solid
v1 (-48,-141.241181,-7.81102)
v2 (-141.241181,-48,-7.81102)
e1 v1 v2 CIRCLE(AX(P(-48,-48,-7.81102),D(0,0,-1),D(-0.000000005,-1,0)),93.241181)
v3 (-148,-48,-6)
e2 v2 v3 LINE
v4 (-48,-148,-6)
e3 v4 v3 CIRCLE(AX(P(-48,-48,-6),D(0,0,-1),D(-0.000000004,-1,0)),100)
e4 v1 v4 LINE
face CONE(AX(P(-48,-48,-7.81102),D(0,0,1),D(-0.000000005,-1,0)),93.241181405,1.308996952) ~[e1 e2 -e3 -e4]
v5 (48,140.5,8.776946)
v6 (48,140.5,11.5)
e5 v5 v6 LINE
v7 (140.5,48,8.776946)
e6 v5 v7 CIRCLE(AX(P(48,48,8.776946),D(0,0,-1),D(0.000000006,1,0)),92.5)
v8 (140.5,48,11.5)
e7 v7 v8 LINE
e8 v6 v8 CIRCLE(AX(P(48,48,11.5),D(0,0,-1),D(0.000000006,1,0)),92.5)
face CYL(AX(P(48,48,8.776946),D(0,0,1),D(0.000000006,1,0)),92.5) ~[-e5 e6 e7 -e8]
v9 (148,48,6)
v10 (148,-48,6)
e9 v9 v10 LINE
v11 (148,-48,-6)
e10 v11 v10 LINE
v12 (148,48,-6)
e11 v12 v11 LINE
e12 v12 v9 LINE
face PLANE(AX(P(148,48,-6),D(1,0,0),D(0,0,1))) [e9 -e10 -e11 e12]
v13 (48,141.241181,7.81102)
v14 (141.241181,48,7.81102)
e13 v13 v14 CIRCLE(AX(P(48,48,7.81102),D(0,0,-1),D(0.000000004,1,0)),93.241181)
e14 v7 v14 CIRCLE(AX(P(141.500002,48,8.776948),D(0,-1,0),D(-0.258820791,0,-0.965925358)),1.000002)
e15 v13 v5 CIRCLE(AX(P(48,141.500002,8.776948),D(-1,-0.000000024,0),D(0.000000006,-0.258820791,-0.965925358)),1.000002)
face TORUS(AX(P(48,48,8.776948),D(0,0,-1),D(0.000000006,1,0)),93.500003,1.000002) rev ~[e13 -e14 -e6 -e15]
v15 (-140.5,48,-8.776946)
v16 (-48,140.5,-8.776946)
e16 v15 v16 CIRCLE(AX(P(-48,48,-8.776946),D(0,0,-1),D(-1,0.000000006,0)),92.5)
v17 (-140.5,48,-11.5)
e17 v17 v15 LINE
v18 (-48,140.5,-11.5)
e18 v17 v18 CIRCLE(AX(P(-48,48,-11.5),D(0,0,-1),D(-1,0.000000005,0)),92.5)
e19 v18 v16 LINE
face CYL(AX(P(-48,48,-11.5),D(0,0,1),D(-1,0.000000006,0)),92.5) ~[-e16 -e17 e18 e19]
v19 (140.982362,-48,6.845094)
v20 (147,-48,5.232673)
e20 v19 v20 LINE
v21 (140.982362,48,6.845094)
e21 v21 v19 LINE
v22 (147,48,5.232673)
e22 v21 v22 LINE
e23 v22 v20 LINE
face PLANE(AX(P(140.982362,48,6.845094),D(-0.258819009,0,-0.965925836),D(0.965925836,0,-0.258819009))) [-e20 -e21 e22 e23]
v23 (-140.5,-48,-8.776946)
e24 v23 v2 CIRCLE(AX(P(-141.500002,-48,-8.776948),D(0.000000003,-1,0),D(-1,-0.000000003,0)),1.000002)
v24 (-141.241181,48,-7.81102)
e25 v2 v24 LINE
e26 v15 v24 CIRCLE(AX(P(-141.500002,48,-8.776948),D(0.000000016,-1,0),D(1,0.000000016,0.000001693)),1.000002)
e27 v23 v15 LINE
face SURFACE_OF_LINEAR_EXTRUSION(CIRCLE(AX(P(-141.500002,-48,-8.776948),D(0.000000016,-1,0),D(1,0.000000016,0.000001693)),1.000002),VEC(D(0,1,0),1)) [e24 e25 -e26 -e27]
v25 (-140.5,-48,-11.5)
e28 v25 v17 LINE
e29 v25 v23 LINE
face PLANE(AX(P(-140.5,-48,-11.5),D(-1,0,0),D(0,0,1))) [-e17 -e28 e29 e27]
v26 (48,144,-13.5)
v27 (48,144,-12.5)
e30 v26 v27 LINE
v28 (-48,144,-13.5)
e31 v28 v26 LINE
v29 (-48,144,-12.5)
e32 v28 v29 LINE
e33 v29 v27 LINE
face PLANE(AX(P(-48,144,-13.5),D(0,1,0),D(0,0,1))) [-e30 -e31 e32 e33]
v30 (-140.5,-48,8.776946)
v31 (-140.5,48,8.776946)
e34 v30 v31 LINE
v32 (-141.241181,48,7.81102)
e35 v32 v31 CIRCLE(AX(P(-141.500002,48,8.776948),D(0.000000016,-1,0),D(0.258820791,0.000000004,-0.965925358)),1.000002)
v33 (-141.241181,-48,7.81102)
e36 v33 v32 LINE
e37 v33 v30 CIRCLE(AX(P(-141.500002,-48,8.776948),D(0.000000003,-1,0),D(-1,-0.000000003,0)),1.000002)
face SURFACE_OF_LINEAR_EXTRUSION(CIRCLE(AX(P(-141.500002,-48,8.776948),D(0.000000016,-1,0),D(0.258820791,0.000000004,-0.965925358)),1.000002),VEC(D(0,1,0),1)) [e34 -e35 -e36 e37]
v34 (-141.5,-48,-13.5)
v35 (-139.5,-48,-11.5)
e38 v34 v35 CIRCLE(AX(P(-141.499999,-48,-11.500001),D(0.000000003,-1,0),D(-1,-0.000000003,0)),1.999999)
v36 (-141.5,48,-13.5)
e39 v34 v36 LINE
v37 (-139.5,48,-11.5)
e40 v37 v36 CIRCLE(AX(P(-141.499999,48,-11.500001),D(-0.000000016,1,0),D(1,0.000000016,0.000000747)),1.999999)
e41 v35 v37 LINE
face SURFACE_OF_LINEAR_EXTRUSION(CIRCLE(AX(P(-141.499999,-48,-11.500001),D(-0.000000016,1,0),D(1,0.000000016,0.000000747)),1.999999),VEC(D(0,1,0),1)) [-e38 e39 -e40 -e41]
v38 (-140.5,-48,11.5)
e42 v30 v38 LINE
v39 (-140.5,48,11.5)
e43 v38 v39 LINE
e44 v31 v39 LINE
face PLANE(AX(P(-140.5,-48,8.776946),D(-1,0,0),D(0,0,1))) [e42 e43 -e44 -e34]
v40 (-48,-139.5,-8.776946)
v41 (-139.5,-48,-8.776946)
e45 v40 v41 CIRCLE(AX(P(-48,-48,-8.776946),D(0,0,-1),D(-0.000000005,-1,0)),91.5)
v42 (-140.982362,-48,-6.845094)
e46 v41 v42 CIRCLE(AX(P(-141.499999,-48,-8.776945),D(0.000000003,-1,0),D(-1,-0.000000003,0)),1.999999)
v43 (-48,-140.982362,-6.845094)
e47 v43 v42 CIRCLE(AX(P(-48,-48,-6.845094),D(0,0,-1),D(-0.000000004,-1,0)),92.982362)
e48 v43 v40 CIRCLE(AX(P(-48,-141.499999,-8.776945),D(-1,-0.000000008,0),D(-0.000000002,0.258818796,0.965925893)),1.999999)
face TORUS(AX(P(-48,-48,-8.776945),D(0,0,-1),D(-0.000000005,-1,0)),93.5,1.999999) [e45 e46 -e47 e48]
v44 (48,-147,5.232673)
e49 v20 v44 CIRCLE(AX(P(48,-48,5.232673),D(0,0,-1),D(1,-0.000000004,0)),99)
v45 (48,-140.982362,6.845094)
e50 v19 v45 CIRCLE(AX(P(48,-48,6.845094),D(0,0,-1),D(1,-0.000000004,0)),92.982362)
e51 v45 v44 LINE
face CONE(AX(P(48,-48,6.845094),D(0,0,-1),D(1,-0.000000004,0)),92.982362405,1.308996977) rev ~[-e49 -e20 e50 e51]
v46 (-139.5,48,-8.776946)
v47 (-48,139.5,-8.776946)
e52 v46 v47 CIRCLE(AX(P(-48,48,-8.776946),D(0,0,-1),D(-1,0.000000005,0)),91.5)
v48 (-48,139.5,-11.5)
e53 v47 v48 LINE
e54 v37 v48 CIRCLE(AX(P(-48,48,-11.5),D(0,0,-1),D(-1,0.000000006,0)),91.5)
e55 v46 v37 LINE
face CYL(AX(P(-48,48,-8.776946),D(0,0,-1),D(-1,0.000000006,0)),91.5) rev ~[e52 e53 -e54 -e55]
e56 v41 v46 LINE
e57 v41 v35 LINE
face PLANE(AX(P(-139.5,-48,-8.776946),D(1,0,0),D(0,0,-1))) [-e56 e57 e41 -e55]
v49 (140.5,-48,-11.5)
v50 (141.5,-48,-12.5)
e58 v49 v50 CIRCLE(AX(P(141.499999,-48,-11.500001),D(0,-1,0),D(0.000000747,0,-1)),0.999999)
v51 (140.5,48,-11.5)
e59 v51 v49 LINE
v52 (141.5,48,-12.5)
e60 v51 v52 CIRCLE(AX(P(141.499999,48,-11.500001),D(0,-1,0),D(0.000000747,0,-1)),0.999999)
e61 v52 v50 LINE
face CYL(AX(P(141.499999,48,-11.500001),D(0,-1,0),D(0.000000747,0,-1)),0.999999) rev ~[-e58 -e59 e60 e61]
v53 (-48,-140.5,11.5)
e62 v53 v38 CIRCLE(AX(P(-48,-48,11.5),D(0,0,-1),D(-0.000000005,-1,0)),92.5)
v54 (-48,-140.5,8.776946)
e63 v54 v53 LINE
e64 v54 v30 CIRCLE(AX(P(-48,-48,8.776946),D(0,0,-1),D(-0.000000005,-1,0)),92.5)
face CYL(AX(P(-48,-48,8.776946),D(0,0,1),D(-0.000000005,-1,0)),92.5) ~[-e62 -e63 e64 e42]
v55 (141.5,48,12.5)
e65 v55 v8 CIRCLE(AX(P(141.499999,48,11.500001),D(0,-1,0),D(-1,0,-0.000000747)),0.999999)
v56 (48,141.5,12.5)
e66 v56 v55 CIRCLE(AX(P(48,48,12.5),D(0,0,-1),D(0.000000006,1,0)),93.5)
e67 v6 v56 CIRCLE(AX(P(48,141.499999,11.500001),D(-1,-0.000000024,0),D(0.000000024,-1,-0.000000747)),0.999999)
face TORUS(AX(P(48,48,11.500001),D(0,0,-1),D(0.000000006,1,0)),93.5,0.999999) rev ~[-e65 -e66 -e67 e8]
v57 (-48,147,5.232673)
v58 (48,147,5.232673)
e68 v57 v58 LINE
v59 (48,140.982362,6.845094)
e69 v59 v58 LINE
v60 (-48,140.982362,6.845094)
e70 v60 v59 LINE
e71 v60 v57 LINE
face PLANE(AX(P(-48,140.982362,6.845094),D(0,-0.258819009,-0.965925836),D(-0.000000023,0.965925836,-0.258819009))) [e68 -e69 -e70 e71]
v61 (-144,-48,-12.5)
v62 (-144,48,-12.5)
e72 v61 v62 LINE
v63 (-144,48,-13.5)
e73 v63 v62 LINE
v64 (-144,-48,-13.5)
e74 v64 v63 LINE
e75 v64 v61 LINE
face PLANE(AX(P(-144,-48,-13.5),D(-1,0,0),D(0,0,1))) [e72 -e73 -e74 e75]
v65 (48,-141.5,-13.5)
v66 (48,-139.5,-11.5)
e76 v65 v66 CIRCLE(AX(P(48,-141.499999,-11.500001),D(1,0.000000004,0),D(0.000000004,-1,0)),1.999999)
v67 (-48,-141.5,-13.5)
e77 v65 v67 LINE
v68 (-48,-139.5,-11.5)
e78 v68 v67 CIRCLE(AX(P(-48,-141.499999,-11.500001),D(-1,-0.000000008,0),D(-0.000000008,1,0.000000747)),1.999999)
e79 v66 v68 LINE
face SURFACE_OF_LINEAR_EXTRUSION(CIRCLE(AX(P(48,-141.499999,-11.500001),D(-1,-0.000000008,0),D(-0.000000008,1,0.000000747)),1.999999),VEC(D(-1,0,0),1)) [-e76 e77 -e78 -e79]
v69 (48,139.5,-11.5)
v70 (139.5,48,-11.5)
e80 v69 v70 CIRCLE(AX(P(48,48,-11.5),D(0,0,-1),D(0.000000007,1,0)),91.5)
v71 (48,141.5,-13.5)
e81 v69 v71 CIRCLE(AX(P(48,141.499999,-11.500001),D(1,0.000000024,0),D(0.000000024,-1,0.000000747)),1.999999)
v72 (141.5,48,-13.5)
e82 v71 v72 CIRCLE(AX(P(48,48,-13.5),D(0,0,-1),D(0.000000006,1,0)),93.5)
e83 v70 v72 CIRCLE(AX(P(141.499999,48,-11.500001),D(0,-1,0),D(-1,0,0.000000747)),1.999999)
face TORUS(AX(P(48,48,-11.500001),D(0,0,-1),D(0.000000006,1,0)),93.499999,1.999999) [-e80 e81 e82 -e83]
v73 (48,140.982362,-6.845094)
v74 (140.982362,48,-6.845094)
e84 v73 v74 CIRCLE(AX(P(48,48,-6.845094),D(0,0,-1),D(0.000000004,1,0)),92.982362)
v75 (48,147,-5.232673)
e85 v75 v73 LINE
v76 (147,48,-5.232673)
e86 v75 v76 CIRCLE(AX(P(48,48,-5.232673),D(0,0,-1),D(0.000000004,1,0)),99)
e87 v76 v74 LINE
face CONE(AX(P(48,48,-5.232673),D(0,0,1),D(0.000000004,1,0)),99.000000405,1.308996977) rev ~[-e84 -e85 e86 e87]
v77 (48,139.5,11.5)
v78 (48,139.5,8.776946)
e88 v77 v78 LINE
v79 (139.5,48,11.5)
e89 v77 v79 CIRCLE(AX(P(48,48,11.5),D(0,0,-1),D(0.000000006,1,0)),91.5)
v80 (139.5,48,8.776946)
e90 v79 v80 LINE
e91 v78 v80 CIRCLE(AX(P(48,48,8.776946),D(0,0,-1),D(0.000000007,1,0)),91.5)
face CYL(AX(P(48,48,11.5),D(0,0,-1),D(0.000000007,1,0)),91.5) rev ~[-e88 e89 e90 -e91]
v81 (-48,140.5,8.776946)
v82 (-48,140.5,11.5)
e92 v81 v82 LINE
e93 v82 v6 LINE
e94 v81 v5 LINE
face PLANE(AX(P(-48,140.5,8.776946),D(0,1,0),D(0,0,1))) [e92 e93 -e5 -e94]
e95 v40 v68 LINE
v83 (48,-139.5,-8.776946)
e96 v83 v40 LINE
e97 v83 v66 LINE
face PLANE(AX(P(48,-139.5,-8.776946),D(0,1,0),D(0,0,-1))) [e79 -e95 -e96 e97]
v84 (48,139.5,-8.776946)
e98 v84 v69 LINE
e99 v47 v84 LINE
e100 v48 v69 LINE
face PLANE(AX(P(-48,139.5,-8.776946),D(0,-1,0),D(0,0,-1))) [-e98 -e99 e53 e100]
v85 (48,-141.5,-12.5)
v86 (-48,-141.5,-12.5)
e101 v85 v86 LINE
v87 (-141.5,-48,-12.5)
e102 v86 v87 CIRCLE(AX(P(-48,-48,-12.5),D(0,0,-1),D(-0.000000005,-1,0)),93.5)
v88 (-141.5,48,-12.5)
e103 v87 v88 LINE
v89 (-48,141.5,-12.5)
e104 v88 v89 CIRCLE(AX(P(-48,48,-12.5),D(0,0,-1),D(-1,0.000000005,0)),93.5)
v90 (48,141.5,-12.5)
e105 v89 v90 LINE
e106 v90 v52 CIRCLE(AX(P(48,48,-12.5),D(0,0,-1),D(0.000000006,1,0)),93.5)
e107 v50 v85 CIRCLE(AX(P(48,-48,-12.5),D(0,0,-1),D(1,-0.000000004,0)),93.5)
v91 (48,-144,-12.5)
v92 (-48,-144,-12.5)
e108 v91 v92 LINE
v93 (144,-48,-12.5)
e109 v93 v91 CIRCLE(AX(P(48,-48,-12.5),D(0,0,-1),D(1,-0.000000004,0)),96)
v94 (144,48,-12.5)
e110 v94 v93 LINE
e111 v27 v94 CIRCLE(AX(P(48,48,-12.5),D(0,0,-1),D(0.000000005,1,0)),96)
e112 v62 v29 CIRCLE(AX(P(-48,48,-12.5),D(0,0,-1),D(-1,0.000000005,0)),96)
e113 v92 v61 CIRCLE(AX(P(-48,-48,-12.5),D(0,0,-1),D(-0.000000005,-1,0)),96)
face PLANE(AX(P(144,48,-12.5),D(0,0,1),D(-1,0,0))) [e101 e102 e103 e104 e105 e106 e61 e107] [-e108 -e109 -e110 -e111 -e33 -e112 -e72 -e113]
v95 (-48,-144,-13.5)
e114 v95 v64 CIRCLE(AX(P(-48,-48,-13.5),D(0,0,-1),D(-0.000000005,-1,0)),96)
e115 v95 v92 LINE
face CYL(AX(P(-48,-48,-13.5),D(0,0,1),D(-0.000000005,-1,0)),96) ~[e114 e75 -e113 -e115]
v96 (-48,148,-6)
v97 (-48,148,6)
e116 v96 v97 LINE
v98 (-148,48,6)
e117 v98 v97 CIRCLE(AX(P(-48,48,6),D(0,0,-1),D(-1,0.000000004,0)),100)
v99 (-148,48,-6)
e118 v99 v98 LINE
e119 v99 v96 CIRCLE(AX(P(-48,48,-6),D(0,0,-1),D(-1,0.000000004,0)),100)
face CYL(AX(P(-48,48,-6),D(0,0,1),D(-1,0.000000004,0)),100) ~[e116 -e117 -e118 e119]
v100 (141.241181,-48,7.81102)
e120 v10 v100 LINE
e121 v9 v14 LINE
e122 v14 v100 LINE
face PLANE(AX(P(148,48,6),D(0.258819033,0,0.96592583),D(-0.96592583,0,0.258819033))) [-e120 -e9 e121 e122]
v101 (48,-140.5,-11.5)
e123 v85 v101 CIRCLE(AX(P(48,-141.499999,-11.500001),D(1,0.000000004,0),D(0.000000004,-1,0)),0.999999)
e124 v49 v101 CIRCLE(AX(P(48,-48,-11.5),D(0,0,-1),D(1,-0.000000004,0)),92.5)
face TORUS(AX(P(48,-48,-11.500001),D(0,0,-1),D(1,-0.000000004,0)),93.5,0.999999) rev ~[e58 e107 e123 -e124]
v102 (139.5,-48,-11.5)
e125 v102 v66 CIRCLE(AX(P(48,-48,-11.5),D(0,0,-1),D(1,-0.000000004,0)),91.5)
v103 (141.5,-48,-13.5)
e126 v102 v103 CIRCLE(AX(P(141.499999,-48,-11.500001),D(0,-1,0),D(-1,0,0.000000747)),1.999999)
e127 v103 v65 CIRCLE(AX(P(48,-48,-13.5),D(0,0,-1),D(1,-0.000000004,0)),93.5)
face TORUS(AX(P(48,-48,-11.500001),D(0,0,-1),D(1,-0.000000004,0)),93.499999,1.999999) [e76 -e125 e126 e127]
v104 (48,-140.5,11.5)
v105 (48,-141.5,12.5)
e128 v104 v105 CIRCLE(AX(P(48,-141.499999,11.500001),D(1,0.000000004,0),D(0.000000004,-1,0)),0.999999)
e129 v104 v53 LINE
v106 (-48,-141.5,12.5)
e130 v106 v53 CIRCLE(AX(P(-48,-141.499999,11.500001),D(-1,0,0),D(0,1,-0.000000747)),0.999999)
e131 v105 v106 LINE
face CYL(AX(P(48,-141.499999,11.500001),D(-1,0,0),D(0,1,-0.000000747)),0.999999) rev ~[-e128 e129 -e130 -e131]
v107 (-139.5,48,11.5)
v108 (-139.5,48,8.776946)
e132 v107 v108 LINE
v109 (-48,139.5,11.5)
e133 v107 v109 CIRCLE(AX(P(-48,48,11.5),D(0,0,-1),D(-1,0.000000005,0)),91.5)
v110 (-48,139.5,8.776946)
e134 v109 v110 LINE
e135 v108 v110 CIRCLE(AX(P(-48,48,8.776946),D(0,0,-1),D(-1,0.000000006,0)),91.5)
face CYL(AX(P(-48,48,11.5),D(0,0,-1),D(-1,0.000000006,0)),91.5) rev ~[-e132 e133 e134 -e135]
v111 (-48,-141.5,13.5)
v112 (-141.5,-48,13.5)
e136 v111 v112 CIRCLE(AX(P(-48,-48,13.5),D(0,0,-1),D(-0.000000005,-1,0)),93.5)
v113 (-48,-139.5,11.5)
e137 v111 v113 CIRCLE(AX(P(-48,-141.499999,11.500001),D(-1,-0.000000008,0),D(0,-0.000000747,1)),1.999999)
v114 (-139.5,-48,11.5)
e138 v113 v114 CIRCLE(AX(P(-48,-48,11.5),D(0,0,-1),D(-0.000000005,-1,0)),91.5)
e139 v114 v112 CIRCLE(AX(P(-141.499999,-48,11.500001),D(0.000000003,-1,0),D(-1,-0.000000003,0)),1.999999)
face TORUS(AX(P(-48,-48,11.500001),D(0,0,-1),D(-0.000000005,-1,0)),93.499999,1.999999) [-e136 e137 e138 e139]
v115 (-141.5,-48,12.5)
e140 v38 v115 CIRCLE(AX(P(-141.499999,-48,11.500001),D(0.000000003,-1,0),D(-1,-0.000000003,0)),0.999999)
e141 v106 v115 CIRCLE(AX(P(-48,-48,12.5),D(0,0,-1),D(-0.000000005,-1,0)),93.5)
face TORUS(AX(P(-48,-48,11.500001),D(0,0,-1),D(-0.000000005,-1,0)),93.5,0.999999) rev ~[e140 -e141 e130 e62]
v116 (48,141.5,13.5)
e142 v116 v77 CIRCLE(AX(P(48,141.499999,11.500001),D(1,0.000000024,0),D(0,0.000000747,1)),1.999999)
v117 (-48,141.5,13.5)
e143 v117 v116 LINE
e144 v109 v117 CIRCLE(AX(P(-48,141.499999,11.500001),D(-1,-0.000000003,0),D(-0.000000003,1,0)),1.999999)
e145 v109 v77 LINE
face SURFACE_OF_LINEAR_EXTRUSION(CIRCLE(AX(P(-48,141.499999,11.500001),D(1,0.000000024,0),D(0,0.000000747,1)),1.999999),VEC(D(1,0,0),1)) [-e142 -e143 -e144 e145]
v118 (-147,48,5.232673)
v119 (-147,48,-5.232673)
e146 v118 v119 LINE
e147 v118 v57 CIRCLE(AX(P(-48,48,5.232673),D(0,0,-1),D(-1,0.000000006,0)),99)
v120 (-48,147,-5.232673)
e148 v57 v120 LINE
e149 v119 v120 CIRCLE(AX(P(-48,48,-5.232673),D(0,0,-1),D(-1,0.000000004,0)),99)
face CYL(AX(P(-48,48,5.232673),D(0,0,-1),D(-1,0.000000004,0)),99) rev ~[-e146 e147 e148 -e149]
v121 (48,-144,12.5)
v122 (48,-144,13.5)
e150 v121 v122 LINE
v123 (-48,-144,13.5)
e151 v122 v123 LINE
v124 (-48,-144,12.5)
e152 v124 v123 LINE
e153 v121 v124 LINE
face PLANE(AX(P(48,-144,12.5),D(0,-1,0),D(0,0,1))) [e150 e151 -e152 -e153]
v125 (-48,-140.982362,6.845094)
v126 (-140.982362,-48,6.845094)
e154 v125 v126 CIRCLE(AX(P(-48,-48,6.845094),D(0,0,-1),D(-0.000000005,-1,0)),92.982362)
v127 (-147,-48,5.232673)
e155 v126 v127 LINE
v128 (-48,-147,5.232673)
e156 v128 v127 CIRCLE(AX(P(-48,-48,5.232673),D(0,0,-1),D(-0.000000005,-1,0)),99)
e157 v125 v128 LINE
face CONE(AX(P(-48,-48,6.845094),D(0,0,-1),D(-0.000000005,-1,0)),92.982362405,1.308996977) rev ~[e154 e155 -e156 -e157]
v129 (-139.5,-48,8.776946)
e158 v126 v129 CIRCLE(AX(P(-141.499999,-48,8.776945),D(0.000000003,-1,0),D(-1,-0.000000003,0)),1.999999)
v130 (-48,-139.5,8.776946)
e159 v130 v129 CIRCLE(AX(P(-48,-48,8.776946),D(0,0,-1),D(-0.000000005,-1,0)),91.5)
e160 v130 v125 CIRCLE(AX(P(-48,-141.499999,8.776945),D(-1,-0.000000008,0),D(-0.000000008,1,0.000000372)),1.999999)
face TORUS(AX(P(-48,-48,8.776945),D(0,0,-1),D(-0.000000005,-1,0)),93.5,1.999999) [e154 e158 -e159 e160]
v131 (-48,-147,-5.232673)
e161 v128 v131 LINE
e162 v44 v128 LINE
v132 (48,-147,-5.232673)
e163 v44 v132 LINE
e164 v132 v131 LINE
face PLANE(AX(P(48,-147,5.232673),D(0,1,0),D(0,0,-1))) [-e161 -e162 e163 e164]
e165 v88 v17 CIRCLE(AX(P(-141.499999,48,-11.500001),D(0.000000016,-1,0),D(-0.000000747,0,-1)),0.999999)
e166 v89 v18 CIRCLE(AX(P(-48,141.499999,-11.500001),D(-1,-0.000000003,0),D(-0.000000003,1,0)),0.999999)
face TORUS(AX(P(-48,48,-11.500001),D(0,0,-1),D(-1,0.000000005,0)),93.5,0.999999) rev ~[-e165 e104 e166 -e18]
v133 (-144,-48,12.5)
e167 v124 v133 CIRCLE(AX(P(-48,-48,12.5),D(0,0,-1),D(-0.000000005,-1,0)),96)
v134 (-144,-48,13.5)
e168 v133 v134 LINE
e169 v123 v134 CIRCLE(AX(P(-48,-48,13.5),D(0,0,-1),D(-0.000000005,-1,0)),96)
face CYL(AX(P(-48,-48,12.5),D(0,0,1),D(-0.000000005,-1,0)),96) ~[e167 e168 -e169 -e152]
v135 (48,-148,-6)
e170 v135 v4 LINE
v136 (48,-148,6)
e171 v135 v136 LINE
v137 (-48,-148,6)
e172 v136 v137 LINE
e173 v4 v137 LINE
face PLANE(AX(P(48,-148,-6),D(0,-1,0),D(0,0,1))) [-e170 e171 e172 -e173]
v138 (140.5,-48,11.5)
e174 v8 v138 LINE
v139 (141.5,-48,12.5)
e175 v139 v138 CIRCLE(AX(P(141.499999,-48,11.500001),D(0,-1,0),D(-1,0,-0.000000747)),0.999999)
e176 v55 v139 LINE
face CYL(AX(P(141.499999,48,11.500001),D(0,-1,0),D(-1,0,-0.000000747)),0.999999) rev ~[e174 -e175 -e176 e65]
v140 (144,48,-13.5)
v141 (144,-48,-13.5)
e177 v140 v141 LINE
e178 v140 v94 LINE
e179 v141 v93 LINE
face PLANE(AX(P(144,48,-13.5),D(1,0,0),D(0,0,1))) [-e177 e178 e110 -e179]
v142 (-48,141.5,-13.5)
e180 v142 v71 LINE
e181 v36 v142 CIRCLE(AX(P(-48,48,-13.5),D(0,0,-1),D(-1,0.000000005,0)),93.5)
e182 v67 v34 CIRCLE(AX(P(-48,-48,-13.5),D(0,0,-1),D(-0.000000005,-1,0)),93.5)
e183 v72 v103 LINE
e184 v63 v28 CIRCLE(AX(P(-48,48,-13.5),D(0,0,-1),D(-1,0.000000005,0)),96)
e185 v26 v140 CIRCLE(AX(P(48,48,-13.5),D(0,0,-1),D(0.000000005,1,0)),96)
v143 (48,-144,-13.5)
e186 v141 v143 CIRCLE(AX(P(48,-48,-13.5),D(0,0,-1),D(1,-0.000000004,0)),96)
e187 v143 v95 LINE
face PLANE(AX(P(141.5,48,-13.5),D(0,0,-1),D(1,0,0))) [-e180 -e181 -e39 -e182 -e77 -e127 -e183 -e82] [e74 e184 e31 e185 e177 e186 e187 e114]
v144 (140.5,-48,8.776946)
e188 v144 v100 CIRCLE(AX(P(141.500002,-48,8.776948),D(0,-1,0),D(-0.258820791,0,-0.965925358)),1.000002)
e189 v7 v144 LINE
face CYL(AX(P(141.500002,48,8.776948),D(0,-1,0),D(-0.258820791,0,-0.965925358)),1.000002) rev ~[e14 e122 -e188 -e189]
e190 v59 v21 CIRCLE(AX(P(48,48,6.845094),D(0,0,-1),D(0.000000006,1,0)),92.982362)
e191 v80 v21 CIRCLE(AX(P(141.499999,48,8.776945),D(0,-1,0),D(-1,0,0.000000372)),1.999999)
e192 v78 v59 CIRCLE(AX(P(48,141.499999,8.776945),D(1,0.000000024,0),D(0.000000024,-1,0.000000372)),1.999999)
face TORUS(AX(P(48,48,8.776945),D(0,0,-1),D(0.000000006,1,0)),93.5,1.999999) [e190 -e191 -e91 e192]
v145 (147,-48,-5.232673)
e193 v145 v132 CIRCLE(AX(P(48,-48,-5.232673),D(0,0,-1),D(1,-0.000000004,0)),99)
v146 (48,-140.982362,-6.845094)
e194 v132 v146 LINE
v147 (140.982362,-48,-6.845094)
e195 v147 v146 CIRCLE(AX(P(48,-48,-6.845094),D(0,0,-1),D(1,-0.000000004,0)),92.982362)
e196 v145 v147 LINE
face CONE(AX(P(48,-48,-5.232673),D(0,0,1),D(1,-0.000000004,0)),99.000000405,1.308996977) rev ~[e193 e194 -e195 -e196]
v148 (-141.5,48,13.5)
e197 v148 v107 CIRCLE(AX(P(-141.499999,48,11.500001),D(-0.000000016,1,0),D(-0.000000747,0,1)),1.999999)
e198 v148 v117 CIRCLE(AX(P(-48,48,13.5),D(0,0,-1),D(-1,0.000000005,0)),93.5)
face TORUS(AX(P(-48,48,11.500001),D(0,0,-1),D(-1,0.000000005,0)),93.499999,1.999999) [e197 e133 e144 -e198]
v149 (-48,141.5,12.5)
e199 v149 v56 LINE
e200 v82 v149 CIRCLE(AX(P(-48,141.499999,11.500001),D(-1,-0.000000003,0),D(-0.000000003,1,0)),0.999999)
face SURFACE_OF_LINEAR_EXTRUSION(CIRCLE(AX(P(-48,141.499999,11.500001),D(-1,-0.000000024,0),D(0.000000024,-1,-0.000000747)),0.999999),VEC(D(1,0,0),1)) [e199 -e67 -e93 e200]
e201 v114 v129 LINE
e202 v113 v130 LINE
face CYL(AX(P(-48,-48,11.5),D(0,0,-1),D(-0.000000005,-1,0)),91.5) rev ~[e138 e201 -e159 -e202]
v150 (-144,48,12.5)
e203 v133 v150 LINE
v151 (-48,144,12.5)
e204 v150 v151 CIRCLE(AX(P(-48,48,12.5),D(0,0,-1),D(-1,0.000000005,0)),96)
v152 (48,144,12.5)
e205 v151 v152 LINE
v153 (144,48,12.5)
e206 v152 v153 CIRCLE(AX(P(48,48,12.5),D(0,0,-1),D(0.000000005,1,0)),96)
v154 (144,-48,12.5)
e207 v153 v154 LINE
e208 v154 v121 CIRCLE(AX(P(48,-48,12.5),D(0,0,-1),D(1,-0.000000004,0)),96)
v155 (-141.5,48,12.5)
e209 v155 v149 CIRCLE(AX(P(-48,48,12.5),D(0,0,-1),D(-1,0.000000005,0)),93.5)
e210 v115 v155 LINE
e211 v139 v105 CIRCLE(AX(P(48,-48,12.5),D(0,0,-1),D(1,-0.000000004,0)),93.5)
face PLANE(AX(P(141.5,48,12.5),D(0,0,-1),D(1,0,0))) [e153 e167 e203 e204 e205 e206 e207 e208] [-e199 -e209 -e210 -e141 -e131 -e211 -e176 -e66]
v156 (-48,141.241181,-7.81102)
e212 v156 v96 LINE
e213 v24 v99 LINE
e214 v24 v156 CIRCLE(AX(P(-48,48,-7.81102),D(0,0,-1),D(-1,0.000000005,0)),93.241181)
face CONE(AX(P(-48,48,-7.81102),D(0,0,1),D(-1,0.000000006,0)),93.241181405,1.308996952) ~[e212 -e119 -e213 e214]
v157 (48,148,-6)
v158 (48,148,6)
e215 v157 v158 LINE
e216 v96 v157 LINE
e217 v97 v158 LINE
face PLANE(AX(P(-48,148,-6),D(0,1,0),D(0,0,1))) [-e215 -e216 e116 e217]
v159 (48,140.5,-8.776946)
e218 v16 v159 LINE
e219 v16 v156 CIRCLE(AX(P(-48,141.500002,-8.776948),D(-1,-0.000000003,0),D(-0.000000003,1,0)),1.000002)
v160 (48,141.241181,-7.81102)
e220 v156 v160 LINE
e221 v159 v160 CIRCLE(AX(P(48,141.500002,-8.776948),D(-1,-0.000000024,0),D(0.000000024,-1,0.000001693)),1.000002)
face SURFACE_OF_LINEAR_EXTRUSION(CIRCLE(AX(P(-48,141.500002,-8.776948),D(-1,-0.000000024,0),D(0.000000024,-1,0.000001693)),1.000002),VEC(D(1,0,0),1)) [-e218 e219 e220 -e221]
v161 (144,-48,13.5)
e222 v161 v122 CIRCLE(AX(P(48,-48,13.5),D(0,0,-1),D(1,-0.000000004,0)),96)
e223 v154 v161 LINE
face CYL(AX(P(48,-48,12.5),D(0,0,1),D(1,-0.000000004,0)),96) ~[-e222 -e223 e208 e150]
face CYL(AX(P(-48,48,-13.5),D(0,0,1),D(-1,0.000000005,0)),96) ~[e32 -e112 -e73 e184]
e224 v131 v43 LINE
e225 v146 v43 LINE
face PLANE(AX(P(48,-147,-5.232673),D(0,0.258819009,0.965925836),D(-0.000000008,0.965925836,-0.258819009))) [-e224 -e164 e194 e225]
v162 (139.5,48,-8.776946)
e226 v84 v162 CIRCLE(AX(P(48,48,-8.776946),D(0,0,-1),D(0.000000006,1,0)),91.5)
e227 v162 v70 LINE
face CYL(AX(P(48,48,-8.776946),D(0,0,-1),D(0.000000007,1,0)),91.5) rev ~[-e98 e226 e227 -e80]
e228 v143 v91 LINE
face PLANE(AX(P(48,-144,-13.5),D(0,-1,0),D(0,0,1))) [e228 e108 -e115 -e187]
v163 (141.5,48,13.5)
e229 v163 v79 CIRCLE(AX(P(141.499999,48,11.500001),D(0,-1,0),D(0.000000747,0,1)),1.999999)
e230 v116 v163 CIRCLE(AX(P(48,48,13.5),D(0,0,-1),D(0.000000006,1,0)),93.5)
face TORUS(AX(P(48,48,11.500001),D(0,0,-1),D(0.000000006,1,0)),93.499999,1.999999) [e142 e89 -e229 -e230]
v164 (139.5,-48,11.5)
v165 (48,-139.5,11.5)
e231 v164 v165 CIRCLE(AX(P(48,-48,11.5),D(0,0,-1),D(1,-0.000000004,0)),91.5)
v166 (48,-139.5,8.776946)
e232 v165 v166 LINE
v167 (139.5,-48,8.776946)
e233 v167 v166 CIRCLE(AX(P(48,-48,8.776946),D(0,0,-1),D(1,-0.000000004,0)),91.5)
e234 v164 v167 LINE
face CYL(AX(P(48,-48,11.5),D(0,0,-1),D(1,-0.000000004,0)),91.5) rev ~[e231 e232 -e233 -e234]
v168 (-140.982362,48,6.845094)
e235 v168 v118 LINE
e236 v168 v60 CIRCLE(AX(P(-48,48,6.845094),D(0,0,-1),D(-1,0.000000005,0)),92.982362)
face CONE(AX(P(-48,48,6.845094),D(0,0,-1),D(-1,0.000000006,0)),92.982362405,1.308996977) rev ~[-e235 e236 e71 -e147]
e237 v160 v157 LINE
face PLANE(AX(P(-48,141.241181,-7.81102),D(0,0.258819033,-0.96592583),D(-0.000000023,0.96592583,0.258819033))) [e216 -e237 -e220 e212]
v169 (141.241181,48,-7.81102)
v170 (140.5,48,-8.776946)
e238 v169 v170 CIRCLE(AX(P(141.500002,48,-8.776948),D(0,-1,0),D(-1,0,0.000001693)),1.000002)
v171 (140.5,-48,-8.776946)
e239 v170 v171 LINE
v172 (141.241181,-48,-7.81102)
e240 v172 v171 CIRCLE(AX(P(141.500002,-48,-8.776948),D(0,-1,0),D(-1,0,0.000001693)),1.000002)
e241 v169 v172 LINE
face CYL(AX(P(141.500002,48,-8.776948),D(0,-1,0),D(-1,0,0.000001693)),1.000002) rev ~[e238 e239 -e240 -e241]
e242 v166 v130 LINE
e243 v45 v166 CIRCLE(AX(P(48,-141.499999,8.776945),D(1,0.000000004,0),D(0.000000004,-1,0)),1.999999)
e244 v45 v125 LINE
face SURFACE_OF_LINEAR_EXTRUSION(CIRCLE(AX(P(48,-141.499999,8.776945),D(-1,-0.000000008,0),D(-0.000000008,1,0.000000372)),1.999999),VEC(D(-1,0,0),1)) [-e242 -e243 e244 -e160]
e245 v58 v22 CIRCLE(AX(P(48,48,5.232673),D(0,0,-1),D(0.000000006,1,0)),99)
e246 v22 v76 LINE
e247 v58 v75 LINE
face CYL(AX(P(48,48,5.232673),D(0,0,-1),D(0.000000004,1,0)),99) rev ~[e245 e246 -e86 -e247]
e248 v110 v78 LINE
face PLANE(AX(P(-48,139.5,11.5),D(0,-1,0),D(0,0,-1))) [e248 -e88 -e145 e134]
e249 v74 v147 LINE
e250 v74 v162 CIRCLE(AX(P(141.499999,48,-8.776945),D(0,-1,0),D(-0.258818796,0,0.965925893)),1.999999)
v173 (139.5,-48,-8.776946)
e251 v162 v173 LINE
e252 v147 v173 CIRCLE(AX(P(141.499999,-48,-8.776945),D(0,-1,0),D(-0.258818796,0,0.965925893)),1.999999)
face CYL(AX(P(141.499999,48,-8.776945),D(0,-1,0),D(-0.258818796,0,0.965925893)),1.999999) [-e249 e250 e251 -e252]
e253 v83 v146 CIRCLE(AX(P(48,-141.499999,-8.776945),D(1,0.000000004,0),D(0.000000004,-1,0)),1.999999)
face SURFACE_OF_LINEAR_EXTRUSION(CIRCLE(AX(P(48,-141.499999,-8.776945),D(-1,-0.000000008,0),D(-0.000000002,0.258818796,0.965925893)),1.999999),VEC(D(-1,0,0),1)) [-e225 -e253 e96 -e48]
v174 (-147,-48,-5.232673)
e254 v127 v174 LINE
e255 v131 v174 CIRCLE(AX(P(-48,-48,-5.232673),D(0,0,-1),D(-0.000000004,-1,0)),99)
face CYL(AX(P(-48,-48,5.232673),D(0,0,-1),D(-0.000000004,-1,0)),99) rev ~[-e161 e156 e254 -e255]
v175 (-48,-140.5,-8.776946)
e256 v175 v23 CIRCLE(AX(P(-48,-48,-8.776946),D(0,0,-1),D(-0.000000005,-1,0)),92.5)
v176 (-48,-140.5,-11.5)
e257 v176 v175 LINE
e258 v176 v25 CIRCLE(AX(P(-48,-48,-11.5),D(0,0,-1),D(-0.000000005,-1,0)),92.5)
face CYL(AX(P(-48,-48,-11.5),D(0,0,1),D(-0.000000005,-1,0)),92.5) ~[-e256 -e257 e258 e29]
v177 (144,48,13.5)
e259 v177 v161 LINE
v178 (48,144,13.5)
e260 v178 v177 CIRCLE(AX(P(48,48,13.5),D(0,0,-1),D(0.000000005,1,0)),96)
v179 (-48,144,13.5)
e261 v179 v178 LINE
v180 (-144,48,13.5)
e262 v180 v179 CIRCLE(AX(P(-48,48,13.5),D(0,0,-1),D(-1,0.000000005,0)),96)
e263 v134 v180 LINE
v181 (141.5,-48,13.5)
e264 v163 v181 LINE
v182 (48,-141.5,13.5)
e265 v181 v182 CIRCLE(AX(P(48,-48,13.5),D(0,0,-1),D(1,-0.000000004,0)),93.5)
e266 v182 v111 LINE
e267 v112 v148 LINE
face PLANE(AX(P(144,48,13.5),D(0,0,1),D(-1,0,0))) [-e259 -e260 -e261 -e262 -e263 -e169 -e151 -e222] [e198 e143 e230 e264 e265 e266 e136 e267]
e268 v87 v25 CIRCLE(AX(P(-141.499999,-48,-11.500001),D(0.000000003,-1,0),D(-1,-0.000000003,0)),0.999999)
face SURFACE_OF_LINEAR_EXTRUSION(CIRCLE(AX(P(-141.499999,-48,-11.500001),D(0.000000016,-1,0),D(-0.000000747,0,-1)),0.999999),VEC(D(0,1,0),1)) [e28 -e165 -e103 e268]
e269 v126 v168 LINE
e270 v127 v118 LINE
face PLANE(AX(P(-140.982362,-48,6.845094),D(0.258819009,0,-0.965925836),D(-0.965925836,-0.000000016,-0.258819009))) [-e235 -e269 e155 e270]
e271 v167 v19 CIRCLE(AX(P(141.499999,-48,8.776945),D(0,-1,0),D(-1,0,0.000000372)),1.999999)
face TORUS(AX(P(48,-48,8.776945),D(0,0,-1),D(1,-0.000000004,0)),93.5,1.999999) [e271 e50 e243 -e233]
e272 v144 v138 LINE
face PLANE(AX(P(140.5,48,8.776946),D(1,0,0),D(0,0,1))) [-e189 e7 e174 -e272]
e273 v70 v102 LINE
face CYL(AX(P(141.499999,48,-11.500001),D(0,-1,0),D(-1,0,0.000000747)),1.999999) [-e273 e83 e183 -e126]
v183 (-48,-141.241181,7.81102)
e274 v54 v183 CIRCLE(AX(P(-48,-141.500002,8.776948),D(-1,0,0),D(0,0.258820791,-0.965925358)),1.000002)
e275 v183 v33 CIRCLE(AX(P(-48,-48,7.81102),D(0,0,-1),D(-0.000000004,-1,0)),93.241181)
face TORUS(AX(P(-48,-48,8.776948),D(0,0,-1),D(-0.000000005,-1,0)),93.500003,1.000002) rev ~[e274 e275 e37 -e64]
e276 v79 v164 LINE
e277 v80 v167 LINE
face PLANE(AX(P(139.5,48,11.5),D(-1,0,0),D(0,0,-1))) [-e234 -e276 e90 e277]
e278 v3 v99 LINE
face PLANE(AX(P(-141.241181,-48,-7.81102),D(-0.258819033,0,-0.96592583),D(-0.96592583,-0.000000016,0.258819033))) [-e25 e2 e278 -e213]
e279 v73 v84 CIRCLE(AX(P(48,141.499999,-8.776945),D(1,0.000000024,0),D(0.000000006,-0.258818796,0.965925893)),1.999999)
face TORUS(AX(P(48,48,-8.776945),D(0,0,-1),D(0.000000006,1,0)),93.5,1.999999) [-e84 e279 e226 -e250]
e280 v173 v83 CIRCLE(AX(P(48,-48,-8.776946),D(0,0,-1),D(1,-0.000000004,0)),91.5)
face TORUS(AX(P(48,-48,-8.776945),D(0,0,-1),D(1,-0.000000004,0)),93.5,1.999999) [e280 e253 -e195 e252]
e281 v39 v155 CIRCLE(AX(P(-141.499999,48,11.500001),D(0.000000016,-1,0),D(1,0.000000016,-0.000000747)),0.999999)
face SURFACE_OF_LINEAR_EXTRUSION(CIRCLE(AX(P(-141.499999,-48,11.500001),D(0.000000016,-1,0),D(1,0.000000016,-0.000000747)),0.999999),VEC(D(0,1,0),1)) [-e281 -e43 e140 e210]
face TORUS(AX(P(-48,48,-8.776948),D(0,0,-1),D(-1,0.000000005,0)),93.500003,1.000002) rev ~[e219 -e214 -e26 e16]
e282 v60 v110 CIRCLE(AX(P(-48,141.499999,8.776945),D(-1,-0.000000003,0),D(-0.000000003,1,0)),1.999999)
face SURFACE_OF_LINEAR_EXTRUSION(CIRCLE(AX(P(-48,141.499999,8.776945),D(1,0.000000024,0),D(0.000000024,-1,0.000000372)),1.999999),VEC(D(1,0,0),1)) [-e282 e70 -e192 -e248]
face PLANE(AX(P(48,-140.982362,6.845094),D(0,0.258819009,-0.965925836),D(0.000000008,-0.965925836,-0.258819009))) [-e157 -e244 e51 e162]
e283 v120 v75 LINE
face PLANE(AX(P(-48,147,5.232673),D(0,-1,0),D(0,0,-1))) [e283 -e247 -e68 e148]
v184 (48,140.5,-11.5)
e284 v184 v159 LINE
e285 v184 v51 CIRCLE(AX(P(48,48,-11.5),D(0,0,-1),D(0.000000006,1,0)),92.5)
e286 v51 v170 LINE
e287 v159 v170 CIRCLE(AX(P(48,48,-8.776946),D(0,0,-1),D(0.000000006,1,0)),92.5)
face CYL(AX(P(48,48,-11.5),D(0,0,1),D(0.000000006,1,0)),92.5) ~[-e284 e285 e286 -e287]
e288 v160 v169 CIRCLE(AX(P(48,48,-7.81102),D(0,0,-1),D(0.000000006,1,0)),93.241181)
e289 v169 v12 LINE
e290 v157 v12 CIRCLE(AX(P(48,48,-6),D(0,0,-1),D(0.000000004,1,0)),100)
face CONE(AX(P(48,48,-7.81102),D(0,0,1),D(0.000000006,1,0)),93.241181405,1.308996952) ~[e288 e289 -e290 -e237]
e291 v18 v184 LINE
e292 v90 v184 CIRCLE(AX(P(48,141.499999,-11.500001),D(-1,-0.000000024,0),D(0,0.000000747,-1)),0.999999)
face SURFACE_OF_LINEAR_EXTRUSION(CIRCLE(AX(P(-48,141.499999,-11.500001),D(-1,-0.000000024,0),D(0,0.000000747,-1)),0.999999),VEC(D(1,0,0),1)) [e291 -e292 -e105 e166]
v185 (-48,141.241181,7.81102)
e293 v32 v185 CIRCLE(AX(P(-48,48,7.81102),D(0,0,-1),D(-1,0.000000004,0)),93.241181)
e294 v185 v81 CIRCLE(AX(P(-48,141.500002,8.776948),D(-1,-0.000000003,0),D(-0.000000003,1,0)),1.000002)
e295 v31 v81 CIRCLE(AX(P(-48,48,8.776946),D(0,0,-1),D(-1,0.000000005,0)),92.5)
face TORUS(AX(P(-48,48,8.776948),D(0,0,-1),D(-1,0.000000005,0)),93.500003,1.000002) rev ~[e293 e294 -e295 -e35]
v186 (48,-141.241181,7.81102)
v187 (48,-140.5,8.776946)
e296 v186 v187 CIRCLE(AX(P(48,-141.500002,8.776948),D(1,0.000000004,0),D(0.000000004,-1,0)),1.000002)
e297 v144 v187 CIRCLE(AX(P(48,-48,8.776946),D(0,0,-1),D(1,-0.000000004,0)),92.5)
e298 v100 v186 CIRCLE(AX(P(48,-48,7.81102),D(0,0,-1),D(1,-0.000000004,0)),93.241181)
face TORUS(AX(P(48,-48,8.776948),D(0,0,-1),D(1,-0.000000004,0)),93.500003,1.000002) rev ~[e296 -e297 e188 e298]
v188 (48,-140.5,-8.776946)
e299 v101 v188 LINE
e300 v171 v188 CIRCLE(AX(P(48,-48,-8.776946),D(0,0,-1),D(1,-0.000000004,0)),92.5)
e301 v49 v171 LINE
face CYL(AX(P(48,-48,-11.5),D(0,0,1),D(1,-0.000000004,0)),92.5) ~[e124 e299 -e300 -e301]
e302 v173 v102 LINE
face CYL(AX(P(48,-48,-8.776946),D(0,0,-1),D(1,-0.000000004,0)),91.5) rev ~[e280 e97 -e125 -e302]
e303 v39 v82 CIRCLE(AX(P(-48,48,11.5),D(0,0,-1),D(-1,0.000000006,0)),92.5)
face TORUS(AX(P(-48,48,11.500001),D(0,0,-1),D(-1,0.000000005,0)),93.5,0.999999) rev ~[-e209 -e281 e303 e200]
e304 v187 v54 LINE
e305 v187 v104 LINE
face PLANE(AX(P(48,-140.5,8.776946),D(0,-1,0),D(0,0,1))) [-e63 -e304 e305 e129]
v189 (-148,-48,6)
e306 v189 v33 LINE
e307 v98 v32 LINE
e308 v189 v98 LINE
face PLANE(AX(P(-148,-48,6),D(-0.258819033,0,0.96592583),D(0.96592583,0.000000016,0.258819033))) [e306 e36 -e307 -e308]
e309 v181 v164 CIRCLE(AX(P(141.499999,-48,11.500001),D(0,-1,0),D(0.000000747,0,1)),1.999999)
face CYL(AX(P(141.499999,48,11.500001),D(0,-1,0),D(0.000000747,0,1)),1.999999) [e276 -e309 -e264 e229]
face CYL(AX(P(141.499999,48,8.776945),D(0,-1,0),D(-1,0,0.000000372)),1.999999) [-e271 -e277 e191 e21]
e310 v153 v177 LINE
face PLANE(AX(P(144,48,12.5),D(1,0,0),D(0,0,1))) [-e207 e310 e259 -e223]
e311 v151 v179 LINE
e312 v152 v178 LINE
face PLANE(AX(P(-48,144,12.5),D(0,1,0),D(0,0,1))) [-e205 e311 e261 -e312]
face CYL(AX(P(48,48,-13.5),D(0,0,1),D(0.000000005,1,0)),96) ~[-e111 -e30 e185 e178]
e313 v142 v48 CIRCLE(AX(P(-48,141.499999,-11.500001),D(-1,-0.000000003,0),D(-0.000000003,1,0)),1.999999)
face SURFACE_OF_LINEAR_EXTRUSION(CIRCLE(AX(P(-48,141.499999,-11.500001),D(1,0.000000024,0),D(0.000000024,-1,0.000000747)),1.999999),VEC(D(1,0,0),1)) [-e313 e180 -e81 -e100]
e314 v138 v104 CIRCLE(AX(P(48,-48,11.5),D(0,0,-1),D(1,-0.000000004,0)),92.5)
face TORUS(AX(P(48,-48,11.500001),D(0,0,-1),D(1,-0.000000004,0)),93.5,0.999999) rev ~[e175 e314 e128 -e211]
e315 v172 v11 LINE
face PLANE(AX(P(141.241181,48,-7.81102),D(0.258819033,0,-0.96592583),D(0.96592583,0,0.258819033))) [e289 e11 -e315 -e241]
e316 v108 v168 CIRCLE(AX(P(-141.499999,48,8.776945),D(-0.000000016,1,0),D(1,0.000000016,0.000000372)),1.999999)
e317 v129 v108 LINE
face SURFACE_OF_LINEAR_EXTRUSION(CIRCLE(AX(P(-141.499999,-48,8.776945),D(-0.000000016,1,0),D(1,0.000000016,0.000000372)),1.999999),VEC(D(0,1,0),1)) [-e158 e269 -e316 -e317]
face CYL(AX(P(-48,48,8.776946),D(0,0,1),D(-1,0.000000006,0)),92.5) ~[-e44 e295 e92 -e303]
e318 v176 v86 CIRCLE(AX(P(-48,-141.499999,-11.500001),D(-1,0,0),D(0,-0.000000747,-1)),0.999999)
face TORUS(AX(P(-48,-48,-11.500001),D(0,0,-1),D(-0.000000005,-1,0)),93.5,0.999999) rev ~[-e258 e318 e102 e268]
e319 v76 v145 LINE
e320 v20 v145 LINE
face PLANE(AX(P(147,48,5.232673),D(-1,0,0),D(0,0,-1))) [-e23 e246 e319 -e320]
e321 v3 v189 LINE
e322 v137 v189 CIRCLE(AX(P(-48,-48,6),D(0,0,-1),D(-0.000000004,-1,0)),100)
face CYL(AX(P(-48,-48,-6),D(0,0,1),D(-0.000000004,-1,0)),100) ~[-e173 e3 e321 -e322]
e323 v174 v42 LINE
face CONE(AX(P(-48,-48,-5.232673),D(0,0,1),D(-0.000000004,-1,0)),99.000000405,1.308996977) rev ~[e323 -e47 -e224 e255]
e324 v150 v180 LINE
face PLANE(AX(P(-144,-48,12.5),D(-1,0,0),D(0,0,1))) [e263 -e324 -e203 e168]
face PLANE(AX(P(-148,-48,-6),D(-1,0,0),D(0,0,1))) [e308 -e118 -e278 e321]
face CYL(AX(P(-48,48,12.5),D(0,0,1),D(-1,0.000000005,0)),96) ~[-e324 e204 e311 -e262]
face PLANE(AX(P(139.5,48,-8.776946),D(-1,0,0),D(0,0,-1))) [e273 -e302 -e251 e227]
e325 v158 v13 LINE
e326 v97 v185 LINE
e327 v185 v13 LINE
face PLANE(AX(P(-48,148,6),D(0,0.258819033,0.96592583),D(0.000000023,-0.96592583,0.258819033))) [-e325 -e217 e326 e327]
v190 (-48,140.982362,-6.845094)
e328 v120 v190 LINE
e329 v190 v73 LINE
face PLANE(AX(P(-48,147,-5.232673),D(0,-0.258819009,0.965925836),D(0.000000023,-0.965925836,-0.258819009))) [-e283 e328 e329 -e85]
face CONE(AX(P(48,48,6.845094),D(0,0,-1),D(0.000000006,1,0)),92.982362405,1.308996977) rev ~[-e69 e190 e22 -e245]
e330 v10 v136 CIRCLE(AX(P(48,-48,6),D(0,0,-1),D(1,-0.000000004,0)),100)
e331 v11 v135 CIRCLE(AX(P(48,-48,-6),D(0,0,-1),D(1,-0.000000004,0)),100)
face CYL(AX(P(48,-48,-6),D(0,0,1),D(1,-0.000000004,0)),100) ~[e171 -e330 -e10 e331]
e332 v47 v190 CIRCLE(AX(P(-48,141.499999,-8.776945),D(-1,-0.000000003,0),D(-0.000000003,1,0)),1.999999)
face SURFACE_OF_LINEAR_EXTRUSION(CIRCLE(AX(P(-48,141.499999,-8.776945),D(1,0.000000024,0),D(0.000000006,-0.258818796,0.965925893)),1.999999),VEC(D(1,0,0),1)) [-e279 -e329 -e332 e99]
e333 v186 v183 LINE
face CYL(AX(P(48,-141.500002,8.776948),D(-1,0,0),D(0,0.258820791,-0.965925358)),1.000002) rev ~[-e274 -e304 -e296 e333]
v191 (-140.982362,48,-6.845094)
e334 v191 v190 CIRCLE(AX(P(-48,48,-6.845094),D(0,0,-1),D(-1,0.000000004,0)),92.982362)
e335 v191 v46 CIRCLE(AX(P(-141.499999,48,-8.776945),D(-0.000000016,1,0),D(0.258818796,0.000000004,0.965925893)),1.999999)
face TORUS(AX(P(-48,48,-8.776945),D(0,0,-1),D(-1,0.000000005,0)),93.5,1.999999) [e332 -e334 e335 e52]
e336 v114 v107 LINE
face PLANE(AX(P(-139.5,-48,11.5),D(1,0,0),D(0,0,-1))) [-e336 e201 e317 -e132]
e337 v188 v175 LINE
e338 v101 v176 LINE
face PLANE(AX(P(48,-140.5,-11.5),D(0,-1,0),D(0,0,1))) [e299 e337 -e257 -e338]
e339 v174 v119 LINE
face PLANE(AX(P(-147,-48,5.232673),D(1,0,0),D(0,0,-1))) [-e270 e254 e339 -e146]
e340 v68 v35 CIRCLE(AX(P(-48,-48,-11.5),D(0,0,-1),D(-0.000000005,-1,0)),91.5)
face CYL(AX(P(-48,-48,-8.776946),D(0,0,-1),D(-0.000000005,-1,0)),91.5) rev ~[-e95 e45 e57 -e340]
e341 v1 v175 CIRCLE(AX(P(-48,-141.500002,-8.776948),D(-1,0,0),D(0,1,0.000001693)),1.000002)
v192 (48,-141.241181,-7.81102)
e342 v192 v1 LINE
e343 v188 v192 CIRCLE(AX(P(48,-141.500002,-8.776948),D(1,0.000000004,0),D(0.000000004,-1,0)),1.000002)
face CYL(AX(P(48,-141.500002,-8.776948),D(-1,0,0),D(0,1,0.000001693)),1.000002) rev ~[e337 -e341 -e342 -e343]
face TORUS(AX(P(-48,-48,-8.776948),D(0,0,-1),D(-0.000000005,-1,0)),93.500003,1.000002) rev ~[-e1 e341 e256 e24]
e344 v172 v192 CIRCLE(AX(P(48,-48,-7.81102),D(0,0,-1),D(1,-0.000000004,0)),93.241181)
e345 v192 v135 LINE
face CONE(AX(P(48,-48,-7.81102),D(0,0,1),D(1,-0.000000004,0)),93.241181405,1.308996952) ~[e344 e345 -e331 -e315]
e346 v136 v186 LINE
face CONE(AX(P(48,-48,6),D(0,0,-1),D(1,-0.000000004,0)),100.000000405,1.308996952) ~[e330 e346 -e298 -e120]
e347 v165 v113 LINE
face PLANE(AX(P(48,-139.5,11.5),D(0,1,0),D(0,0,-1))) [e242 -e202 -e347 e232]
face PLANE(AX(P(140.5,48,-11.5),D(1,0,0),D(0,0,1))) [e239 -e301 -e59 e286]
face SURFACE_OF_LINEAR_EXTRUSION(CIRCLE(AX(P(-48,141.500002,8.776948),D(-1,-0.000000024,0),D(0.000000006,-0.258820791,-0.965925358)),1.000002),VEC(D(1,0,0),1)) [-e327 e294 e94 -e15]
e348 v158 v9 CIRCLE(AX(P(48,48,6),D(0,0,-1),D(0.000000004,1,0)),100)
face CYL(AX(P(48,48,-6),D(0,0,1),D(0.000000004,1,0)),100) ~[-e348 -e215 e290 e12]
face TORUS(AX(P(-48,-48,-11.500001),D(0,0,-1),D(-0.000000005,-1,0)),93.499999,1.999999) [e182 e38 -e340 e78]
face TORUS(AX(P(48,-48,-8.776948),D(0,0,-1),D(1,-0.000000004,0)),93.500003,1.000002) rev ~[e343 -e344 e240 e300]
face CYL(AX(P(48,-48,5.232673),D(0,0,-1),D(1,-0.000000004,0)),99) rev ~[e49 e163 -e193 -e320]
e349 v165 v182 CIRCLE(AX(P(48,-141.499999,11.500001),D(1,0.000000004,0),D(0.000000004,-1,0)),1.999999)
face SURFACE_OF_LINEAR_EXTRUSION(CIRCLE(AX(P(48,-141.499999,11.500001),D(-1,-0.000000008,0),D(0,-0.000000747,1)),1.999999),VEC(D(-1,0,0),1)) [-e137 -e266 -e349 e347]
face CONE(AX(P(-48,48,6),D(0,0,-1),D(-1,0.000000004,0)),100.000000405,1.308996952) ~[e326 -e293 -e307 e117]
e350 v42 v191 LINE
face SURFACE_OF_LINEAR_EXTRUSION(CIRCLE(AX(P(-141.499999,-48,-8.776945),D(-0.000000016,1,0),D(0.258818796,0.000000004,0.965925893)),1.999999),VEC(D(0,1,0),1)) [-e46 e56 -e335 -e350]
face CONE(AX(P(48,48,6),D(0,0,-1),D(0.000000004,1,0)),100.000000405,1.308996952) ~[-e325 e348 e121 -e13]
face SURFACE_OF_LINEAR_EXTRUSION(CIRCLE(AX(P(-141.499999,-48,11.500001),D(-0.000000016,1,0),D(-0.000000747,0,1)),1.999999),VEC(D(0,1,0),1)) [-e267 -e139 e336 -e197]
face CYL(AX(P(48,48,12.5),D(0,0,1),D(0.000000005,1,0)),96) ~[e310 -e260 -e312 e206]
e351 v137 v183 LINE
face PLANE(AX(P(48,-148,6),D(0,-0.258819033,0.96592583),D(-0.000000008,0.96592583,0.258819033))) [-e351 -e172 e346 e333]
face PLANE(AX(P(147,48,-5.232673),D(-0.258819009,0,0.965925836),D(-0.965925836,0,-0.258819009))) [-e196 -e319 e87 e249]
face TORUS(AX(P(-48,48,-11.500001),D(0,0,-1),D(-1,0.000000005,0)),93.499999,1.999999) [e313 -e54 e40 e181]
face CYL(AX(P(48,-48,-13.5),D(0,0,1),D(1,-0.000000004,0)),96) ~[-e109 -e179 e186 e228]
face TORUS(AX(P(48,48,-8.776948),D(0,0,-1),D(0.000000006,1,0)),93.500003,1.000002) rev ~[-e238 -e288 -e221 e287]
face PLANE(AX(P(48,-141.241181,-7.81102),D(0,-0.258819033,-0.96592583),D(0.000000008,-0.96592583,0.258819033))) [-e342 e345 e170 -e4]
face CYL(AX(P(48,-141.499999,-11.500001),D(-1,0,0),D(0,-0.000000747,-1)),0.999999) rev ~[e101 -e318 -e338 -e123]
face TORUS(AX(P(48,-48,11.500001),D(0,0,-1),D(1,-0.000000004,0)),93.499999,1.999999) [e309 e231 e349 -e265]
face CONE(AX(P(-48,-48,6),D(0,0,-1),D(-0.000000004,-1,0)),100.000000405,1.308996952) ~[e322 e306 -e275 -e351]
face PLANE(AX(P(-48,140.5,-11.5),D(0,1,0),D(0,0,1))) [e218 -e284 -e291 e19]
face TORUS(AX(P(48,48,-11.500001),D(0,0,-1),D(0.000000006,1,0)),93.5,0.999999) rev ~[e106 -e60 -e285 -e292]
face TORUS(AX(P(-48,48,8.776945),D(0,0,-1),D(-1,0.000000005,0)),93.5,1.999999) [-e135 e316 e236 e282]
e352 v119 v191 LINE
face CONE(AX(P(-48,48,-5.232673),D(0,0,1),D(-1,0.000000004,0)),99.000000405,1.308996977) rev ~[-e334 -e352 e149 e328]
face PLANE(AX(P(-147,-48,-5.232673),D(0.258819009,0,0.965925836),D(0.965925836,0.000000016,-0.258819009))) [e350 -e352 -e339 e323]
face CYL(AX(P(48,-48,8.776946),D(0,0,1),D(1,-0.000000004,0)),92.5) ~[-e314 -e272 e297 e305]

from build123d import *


with BuildPart() as f2:
    # F2: sweep along a path in F0
    with BuildLine(Plane.XY) as f2_path:
        Line((148, 48), (148, -48))
        ThreePointArc((148, -48), (118.710678, -118.710678), (48, -148))
        Line((48, -148), (-48, -148))
        ThreePointArc((-48, -148), (-118.710678, -118.710678), (-148, -48))
        Line((-148, -48), (-148, 48))
        ThreePointArc((-148, 48), (-118.710678, 118.710678), (-48, 148))
        Line((-48, 148), (48, 148))
        ThreePointArc((48, 148), (118.710678, 118.710678), (148, 48))
    # F1 (on Front) → F2 (sweep)
    with BuildSketch(Plane.XZ):
        with BuildLine():
            Line((148, -6), (148, 6))
            Line((148, 6), (141.241181, 7.81102))
            ThreePointArc((141.241181, 7.81102), (140.706647, 8.168185), (140.5, 8.776946))
            Line((140.5, 8.776946), (140.5, 11.5))
            ThreePointArc((140.5, 11.5), (140.792893, 12.207107), (141.5, 12.5))
            Line((141.5, 12.5), (144, 12.5))
            Line((144, 12.5), (144, 13.5))
            Line((144, 13.5), (141.5, 13.5))
            ThreePointArc((141.5, 13.5), (140.085786, 12.914214), (139.5, 11.5))
            Line((139.5, 11.5), (139.5, 8.776946))
            ThreePointArc((139.5, 8.776946), (139.913293, 7.559423), (140.982362, 6.845094))
            Line((140.982362, 6.845094), (147, 5.232673))
            Line((147, 5.232673), (147, 0))
            Line((147, 0), (147, -5.232673))
            Line((147, -5.232673), (140.982362, -6.845094))
            ThreePointArc((140.982362, -6.845094), (139.913293, -7.559423), (139.5, -8.776946))
            Line((139.5, -8.776946), (139.5, -11.5))
            ThreePointArc((139.5, -11.5), (140.085786, -12.914214), (141.5, -13.5))
            Line((141.5, -13.5), (144, -13.5))
            Line((144, -13.5), (144, -12.5))
            Line((144, -12.5), (141.5, -12.5))
            ThreePointArc((141.5, -12.5), (140.792893, -12.207107), (140.5, -11.5))
            Line((140.5, -11.5), (140.5, -8.776946))
            ThreePointArc((140.5, -8.776946), (140.706647, -8.168185), (141.241181, -7.81102))
            Line((141.241181, -7.81102), (148, -6))
        make_face()
    sweep(path=f2_path.line)


solid = f2.part
